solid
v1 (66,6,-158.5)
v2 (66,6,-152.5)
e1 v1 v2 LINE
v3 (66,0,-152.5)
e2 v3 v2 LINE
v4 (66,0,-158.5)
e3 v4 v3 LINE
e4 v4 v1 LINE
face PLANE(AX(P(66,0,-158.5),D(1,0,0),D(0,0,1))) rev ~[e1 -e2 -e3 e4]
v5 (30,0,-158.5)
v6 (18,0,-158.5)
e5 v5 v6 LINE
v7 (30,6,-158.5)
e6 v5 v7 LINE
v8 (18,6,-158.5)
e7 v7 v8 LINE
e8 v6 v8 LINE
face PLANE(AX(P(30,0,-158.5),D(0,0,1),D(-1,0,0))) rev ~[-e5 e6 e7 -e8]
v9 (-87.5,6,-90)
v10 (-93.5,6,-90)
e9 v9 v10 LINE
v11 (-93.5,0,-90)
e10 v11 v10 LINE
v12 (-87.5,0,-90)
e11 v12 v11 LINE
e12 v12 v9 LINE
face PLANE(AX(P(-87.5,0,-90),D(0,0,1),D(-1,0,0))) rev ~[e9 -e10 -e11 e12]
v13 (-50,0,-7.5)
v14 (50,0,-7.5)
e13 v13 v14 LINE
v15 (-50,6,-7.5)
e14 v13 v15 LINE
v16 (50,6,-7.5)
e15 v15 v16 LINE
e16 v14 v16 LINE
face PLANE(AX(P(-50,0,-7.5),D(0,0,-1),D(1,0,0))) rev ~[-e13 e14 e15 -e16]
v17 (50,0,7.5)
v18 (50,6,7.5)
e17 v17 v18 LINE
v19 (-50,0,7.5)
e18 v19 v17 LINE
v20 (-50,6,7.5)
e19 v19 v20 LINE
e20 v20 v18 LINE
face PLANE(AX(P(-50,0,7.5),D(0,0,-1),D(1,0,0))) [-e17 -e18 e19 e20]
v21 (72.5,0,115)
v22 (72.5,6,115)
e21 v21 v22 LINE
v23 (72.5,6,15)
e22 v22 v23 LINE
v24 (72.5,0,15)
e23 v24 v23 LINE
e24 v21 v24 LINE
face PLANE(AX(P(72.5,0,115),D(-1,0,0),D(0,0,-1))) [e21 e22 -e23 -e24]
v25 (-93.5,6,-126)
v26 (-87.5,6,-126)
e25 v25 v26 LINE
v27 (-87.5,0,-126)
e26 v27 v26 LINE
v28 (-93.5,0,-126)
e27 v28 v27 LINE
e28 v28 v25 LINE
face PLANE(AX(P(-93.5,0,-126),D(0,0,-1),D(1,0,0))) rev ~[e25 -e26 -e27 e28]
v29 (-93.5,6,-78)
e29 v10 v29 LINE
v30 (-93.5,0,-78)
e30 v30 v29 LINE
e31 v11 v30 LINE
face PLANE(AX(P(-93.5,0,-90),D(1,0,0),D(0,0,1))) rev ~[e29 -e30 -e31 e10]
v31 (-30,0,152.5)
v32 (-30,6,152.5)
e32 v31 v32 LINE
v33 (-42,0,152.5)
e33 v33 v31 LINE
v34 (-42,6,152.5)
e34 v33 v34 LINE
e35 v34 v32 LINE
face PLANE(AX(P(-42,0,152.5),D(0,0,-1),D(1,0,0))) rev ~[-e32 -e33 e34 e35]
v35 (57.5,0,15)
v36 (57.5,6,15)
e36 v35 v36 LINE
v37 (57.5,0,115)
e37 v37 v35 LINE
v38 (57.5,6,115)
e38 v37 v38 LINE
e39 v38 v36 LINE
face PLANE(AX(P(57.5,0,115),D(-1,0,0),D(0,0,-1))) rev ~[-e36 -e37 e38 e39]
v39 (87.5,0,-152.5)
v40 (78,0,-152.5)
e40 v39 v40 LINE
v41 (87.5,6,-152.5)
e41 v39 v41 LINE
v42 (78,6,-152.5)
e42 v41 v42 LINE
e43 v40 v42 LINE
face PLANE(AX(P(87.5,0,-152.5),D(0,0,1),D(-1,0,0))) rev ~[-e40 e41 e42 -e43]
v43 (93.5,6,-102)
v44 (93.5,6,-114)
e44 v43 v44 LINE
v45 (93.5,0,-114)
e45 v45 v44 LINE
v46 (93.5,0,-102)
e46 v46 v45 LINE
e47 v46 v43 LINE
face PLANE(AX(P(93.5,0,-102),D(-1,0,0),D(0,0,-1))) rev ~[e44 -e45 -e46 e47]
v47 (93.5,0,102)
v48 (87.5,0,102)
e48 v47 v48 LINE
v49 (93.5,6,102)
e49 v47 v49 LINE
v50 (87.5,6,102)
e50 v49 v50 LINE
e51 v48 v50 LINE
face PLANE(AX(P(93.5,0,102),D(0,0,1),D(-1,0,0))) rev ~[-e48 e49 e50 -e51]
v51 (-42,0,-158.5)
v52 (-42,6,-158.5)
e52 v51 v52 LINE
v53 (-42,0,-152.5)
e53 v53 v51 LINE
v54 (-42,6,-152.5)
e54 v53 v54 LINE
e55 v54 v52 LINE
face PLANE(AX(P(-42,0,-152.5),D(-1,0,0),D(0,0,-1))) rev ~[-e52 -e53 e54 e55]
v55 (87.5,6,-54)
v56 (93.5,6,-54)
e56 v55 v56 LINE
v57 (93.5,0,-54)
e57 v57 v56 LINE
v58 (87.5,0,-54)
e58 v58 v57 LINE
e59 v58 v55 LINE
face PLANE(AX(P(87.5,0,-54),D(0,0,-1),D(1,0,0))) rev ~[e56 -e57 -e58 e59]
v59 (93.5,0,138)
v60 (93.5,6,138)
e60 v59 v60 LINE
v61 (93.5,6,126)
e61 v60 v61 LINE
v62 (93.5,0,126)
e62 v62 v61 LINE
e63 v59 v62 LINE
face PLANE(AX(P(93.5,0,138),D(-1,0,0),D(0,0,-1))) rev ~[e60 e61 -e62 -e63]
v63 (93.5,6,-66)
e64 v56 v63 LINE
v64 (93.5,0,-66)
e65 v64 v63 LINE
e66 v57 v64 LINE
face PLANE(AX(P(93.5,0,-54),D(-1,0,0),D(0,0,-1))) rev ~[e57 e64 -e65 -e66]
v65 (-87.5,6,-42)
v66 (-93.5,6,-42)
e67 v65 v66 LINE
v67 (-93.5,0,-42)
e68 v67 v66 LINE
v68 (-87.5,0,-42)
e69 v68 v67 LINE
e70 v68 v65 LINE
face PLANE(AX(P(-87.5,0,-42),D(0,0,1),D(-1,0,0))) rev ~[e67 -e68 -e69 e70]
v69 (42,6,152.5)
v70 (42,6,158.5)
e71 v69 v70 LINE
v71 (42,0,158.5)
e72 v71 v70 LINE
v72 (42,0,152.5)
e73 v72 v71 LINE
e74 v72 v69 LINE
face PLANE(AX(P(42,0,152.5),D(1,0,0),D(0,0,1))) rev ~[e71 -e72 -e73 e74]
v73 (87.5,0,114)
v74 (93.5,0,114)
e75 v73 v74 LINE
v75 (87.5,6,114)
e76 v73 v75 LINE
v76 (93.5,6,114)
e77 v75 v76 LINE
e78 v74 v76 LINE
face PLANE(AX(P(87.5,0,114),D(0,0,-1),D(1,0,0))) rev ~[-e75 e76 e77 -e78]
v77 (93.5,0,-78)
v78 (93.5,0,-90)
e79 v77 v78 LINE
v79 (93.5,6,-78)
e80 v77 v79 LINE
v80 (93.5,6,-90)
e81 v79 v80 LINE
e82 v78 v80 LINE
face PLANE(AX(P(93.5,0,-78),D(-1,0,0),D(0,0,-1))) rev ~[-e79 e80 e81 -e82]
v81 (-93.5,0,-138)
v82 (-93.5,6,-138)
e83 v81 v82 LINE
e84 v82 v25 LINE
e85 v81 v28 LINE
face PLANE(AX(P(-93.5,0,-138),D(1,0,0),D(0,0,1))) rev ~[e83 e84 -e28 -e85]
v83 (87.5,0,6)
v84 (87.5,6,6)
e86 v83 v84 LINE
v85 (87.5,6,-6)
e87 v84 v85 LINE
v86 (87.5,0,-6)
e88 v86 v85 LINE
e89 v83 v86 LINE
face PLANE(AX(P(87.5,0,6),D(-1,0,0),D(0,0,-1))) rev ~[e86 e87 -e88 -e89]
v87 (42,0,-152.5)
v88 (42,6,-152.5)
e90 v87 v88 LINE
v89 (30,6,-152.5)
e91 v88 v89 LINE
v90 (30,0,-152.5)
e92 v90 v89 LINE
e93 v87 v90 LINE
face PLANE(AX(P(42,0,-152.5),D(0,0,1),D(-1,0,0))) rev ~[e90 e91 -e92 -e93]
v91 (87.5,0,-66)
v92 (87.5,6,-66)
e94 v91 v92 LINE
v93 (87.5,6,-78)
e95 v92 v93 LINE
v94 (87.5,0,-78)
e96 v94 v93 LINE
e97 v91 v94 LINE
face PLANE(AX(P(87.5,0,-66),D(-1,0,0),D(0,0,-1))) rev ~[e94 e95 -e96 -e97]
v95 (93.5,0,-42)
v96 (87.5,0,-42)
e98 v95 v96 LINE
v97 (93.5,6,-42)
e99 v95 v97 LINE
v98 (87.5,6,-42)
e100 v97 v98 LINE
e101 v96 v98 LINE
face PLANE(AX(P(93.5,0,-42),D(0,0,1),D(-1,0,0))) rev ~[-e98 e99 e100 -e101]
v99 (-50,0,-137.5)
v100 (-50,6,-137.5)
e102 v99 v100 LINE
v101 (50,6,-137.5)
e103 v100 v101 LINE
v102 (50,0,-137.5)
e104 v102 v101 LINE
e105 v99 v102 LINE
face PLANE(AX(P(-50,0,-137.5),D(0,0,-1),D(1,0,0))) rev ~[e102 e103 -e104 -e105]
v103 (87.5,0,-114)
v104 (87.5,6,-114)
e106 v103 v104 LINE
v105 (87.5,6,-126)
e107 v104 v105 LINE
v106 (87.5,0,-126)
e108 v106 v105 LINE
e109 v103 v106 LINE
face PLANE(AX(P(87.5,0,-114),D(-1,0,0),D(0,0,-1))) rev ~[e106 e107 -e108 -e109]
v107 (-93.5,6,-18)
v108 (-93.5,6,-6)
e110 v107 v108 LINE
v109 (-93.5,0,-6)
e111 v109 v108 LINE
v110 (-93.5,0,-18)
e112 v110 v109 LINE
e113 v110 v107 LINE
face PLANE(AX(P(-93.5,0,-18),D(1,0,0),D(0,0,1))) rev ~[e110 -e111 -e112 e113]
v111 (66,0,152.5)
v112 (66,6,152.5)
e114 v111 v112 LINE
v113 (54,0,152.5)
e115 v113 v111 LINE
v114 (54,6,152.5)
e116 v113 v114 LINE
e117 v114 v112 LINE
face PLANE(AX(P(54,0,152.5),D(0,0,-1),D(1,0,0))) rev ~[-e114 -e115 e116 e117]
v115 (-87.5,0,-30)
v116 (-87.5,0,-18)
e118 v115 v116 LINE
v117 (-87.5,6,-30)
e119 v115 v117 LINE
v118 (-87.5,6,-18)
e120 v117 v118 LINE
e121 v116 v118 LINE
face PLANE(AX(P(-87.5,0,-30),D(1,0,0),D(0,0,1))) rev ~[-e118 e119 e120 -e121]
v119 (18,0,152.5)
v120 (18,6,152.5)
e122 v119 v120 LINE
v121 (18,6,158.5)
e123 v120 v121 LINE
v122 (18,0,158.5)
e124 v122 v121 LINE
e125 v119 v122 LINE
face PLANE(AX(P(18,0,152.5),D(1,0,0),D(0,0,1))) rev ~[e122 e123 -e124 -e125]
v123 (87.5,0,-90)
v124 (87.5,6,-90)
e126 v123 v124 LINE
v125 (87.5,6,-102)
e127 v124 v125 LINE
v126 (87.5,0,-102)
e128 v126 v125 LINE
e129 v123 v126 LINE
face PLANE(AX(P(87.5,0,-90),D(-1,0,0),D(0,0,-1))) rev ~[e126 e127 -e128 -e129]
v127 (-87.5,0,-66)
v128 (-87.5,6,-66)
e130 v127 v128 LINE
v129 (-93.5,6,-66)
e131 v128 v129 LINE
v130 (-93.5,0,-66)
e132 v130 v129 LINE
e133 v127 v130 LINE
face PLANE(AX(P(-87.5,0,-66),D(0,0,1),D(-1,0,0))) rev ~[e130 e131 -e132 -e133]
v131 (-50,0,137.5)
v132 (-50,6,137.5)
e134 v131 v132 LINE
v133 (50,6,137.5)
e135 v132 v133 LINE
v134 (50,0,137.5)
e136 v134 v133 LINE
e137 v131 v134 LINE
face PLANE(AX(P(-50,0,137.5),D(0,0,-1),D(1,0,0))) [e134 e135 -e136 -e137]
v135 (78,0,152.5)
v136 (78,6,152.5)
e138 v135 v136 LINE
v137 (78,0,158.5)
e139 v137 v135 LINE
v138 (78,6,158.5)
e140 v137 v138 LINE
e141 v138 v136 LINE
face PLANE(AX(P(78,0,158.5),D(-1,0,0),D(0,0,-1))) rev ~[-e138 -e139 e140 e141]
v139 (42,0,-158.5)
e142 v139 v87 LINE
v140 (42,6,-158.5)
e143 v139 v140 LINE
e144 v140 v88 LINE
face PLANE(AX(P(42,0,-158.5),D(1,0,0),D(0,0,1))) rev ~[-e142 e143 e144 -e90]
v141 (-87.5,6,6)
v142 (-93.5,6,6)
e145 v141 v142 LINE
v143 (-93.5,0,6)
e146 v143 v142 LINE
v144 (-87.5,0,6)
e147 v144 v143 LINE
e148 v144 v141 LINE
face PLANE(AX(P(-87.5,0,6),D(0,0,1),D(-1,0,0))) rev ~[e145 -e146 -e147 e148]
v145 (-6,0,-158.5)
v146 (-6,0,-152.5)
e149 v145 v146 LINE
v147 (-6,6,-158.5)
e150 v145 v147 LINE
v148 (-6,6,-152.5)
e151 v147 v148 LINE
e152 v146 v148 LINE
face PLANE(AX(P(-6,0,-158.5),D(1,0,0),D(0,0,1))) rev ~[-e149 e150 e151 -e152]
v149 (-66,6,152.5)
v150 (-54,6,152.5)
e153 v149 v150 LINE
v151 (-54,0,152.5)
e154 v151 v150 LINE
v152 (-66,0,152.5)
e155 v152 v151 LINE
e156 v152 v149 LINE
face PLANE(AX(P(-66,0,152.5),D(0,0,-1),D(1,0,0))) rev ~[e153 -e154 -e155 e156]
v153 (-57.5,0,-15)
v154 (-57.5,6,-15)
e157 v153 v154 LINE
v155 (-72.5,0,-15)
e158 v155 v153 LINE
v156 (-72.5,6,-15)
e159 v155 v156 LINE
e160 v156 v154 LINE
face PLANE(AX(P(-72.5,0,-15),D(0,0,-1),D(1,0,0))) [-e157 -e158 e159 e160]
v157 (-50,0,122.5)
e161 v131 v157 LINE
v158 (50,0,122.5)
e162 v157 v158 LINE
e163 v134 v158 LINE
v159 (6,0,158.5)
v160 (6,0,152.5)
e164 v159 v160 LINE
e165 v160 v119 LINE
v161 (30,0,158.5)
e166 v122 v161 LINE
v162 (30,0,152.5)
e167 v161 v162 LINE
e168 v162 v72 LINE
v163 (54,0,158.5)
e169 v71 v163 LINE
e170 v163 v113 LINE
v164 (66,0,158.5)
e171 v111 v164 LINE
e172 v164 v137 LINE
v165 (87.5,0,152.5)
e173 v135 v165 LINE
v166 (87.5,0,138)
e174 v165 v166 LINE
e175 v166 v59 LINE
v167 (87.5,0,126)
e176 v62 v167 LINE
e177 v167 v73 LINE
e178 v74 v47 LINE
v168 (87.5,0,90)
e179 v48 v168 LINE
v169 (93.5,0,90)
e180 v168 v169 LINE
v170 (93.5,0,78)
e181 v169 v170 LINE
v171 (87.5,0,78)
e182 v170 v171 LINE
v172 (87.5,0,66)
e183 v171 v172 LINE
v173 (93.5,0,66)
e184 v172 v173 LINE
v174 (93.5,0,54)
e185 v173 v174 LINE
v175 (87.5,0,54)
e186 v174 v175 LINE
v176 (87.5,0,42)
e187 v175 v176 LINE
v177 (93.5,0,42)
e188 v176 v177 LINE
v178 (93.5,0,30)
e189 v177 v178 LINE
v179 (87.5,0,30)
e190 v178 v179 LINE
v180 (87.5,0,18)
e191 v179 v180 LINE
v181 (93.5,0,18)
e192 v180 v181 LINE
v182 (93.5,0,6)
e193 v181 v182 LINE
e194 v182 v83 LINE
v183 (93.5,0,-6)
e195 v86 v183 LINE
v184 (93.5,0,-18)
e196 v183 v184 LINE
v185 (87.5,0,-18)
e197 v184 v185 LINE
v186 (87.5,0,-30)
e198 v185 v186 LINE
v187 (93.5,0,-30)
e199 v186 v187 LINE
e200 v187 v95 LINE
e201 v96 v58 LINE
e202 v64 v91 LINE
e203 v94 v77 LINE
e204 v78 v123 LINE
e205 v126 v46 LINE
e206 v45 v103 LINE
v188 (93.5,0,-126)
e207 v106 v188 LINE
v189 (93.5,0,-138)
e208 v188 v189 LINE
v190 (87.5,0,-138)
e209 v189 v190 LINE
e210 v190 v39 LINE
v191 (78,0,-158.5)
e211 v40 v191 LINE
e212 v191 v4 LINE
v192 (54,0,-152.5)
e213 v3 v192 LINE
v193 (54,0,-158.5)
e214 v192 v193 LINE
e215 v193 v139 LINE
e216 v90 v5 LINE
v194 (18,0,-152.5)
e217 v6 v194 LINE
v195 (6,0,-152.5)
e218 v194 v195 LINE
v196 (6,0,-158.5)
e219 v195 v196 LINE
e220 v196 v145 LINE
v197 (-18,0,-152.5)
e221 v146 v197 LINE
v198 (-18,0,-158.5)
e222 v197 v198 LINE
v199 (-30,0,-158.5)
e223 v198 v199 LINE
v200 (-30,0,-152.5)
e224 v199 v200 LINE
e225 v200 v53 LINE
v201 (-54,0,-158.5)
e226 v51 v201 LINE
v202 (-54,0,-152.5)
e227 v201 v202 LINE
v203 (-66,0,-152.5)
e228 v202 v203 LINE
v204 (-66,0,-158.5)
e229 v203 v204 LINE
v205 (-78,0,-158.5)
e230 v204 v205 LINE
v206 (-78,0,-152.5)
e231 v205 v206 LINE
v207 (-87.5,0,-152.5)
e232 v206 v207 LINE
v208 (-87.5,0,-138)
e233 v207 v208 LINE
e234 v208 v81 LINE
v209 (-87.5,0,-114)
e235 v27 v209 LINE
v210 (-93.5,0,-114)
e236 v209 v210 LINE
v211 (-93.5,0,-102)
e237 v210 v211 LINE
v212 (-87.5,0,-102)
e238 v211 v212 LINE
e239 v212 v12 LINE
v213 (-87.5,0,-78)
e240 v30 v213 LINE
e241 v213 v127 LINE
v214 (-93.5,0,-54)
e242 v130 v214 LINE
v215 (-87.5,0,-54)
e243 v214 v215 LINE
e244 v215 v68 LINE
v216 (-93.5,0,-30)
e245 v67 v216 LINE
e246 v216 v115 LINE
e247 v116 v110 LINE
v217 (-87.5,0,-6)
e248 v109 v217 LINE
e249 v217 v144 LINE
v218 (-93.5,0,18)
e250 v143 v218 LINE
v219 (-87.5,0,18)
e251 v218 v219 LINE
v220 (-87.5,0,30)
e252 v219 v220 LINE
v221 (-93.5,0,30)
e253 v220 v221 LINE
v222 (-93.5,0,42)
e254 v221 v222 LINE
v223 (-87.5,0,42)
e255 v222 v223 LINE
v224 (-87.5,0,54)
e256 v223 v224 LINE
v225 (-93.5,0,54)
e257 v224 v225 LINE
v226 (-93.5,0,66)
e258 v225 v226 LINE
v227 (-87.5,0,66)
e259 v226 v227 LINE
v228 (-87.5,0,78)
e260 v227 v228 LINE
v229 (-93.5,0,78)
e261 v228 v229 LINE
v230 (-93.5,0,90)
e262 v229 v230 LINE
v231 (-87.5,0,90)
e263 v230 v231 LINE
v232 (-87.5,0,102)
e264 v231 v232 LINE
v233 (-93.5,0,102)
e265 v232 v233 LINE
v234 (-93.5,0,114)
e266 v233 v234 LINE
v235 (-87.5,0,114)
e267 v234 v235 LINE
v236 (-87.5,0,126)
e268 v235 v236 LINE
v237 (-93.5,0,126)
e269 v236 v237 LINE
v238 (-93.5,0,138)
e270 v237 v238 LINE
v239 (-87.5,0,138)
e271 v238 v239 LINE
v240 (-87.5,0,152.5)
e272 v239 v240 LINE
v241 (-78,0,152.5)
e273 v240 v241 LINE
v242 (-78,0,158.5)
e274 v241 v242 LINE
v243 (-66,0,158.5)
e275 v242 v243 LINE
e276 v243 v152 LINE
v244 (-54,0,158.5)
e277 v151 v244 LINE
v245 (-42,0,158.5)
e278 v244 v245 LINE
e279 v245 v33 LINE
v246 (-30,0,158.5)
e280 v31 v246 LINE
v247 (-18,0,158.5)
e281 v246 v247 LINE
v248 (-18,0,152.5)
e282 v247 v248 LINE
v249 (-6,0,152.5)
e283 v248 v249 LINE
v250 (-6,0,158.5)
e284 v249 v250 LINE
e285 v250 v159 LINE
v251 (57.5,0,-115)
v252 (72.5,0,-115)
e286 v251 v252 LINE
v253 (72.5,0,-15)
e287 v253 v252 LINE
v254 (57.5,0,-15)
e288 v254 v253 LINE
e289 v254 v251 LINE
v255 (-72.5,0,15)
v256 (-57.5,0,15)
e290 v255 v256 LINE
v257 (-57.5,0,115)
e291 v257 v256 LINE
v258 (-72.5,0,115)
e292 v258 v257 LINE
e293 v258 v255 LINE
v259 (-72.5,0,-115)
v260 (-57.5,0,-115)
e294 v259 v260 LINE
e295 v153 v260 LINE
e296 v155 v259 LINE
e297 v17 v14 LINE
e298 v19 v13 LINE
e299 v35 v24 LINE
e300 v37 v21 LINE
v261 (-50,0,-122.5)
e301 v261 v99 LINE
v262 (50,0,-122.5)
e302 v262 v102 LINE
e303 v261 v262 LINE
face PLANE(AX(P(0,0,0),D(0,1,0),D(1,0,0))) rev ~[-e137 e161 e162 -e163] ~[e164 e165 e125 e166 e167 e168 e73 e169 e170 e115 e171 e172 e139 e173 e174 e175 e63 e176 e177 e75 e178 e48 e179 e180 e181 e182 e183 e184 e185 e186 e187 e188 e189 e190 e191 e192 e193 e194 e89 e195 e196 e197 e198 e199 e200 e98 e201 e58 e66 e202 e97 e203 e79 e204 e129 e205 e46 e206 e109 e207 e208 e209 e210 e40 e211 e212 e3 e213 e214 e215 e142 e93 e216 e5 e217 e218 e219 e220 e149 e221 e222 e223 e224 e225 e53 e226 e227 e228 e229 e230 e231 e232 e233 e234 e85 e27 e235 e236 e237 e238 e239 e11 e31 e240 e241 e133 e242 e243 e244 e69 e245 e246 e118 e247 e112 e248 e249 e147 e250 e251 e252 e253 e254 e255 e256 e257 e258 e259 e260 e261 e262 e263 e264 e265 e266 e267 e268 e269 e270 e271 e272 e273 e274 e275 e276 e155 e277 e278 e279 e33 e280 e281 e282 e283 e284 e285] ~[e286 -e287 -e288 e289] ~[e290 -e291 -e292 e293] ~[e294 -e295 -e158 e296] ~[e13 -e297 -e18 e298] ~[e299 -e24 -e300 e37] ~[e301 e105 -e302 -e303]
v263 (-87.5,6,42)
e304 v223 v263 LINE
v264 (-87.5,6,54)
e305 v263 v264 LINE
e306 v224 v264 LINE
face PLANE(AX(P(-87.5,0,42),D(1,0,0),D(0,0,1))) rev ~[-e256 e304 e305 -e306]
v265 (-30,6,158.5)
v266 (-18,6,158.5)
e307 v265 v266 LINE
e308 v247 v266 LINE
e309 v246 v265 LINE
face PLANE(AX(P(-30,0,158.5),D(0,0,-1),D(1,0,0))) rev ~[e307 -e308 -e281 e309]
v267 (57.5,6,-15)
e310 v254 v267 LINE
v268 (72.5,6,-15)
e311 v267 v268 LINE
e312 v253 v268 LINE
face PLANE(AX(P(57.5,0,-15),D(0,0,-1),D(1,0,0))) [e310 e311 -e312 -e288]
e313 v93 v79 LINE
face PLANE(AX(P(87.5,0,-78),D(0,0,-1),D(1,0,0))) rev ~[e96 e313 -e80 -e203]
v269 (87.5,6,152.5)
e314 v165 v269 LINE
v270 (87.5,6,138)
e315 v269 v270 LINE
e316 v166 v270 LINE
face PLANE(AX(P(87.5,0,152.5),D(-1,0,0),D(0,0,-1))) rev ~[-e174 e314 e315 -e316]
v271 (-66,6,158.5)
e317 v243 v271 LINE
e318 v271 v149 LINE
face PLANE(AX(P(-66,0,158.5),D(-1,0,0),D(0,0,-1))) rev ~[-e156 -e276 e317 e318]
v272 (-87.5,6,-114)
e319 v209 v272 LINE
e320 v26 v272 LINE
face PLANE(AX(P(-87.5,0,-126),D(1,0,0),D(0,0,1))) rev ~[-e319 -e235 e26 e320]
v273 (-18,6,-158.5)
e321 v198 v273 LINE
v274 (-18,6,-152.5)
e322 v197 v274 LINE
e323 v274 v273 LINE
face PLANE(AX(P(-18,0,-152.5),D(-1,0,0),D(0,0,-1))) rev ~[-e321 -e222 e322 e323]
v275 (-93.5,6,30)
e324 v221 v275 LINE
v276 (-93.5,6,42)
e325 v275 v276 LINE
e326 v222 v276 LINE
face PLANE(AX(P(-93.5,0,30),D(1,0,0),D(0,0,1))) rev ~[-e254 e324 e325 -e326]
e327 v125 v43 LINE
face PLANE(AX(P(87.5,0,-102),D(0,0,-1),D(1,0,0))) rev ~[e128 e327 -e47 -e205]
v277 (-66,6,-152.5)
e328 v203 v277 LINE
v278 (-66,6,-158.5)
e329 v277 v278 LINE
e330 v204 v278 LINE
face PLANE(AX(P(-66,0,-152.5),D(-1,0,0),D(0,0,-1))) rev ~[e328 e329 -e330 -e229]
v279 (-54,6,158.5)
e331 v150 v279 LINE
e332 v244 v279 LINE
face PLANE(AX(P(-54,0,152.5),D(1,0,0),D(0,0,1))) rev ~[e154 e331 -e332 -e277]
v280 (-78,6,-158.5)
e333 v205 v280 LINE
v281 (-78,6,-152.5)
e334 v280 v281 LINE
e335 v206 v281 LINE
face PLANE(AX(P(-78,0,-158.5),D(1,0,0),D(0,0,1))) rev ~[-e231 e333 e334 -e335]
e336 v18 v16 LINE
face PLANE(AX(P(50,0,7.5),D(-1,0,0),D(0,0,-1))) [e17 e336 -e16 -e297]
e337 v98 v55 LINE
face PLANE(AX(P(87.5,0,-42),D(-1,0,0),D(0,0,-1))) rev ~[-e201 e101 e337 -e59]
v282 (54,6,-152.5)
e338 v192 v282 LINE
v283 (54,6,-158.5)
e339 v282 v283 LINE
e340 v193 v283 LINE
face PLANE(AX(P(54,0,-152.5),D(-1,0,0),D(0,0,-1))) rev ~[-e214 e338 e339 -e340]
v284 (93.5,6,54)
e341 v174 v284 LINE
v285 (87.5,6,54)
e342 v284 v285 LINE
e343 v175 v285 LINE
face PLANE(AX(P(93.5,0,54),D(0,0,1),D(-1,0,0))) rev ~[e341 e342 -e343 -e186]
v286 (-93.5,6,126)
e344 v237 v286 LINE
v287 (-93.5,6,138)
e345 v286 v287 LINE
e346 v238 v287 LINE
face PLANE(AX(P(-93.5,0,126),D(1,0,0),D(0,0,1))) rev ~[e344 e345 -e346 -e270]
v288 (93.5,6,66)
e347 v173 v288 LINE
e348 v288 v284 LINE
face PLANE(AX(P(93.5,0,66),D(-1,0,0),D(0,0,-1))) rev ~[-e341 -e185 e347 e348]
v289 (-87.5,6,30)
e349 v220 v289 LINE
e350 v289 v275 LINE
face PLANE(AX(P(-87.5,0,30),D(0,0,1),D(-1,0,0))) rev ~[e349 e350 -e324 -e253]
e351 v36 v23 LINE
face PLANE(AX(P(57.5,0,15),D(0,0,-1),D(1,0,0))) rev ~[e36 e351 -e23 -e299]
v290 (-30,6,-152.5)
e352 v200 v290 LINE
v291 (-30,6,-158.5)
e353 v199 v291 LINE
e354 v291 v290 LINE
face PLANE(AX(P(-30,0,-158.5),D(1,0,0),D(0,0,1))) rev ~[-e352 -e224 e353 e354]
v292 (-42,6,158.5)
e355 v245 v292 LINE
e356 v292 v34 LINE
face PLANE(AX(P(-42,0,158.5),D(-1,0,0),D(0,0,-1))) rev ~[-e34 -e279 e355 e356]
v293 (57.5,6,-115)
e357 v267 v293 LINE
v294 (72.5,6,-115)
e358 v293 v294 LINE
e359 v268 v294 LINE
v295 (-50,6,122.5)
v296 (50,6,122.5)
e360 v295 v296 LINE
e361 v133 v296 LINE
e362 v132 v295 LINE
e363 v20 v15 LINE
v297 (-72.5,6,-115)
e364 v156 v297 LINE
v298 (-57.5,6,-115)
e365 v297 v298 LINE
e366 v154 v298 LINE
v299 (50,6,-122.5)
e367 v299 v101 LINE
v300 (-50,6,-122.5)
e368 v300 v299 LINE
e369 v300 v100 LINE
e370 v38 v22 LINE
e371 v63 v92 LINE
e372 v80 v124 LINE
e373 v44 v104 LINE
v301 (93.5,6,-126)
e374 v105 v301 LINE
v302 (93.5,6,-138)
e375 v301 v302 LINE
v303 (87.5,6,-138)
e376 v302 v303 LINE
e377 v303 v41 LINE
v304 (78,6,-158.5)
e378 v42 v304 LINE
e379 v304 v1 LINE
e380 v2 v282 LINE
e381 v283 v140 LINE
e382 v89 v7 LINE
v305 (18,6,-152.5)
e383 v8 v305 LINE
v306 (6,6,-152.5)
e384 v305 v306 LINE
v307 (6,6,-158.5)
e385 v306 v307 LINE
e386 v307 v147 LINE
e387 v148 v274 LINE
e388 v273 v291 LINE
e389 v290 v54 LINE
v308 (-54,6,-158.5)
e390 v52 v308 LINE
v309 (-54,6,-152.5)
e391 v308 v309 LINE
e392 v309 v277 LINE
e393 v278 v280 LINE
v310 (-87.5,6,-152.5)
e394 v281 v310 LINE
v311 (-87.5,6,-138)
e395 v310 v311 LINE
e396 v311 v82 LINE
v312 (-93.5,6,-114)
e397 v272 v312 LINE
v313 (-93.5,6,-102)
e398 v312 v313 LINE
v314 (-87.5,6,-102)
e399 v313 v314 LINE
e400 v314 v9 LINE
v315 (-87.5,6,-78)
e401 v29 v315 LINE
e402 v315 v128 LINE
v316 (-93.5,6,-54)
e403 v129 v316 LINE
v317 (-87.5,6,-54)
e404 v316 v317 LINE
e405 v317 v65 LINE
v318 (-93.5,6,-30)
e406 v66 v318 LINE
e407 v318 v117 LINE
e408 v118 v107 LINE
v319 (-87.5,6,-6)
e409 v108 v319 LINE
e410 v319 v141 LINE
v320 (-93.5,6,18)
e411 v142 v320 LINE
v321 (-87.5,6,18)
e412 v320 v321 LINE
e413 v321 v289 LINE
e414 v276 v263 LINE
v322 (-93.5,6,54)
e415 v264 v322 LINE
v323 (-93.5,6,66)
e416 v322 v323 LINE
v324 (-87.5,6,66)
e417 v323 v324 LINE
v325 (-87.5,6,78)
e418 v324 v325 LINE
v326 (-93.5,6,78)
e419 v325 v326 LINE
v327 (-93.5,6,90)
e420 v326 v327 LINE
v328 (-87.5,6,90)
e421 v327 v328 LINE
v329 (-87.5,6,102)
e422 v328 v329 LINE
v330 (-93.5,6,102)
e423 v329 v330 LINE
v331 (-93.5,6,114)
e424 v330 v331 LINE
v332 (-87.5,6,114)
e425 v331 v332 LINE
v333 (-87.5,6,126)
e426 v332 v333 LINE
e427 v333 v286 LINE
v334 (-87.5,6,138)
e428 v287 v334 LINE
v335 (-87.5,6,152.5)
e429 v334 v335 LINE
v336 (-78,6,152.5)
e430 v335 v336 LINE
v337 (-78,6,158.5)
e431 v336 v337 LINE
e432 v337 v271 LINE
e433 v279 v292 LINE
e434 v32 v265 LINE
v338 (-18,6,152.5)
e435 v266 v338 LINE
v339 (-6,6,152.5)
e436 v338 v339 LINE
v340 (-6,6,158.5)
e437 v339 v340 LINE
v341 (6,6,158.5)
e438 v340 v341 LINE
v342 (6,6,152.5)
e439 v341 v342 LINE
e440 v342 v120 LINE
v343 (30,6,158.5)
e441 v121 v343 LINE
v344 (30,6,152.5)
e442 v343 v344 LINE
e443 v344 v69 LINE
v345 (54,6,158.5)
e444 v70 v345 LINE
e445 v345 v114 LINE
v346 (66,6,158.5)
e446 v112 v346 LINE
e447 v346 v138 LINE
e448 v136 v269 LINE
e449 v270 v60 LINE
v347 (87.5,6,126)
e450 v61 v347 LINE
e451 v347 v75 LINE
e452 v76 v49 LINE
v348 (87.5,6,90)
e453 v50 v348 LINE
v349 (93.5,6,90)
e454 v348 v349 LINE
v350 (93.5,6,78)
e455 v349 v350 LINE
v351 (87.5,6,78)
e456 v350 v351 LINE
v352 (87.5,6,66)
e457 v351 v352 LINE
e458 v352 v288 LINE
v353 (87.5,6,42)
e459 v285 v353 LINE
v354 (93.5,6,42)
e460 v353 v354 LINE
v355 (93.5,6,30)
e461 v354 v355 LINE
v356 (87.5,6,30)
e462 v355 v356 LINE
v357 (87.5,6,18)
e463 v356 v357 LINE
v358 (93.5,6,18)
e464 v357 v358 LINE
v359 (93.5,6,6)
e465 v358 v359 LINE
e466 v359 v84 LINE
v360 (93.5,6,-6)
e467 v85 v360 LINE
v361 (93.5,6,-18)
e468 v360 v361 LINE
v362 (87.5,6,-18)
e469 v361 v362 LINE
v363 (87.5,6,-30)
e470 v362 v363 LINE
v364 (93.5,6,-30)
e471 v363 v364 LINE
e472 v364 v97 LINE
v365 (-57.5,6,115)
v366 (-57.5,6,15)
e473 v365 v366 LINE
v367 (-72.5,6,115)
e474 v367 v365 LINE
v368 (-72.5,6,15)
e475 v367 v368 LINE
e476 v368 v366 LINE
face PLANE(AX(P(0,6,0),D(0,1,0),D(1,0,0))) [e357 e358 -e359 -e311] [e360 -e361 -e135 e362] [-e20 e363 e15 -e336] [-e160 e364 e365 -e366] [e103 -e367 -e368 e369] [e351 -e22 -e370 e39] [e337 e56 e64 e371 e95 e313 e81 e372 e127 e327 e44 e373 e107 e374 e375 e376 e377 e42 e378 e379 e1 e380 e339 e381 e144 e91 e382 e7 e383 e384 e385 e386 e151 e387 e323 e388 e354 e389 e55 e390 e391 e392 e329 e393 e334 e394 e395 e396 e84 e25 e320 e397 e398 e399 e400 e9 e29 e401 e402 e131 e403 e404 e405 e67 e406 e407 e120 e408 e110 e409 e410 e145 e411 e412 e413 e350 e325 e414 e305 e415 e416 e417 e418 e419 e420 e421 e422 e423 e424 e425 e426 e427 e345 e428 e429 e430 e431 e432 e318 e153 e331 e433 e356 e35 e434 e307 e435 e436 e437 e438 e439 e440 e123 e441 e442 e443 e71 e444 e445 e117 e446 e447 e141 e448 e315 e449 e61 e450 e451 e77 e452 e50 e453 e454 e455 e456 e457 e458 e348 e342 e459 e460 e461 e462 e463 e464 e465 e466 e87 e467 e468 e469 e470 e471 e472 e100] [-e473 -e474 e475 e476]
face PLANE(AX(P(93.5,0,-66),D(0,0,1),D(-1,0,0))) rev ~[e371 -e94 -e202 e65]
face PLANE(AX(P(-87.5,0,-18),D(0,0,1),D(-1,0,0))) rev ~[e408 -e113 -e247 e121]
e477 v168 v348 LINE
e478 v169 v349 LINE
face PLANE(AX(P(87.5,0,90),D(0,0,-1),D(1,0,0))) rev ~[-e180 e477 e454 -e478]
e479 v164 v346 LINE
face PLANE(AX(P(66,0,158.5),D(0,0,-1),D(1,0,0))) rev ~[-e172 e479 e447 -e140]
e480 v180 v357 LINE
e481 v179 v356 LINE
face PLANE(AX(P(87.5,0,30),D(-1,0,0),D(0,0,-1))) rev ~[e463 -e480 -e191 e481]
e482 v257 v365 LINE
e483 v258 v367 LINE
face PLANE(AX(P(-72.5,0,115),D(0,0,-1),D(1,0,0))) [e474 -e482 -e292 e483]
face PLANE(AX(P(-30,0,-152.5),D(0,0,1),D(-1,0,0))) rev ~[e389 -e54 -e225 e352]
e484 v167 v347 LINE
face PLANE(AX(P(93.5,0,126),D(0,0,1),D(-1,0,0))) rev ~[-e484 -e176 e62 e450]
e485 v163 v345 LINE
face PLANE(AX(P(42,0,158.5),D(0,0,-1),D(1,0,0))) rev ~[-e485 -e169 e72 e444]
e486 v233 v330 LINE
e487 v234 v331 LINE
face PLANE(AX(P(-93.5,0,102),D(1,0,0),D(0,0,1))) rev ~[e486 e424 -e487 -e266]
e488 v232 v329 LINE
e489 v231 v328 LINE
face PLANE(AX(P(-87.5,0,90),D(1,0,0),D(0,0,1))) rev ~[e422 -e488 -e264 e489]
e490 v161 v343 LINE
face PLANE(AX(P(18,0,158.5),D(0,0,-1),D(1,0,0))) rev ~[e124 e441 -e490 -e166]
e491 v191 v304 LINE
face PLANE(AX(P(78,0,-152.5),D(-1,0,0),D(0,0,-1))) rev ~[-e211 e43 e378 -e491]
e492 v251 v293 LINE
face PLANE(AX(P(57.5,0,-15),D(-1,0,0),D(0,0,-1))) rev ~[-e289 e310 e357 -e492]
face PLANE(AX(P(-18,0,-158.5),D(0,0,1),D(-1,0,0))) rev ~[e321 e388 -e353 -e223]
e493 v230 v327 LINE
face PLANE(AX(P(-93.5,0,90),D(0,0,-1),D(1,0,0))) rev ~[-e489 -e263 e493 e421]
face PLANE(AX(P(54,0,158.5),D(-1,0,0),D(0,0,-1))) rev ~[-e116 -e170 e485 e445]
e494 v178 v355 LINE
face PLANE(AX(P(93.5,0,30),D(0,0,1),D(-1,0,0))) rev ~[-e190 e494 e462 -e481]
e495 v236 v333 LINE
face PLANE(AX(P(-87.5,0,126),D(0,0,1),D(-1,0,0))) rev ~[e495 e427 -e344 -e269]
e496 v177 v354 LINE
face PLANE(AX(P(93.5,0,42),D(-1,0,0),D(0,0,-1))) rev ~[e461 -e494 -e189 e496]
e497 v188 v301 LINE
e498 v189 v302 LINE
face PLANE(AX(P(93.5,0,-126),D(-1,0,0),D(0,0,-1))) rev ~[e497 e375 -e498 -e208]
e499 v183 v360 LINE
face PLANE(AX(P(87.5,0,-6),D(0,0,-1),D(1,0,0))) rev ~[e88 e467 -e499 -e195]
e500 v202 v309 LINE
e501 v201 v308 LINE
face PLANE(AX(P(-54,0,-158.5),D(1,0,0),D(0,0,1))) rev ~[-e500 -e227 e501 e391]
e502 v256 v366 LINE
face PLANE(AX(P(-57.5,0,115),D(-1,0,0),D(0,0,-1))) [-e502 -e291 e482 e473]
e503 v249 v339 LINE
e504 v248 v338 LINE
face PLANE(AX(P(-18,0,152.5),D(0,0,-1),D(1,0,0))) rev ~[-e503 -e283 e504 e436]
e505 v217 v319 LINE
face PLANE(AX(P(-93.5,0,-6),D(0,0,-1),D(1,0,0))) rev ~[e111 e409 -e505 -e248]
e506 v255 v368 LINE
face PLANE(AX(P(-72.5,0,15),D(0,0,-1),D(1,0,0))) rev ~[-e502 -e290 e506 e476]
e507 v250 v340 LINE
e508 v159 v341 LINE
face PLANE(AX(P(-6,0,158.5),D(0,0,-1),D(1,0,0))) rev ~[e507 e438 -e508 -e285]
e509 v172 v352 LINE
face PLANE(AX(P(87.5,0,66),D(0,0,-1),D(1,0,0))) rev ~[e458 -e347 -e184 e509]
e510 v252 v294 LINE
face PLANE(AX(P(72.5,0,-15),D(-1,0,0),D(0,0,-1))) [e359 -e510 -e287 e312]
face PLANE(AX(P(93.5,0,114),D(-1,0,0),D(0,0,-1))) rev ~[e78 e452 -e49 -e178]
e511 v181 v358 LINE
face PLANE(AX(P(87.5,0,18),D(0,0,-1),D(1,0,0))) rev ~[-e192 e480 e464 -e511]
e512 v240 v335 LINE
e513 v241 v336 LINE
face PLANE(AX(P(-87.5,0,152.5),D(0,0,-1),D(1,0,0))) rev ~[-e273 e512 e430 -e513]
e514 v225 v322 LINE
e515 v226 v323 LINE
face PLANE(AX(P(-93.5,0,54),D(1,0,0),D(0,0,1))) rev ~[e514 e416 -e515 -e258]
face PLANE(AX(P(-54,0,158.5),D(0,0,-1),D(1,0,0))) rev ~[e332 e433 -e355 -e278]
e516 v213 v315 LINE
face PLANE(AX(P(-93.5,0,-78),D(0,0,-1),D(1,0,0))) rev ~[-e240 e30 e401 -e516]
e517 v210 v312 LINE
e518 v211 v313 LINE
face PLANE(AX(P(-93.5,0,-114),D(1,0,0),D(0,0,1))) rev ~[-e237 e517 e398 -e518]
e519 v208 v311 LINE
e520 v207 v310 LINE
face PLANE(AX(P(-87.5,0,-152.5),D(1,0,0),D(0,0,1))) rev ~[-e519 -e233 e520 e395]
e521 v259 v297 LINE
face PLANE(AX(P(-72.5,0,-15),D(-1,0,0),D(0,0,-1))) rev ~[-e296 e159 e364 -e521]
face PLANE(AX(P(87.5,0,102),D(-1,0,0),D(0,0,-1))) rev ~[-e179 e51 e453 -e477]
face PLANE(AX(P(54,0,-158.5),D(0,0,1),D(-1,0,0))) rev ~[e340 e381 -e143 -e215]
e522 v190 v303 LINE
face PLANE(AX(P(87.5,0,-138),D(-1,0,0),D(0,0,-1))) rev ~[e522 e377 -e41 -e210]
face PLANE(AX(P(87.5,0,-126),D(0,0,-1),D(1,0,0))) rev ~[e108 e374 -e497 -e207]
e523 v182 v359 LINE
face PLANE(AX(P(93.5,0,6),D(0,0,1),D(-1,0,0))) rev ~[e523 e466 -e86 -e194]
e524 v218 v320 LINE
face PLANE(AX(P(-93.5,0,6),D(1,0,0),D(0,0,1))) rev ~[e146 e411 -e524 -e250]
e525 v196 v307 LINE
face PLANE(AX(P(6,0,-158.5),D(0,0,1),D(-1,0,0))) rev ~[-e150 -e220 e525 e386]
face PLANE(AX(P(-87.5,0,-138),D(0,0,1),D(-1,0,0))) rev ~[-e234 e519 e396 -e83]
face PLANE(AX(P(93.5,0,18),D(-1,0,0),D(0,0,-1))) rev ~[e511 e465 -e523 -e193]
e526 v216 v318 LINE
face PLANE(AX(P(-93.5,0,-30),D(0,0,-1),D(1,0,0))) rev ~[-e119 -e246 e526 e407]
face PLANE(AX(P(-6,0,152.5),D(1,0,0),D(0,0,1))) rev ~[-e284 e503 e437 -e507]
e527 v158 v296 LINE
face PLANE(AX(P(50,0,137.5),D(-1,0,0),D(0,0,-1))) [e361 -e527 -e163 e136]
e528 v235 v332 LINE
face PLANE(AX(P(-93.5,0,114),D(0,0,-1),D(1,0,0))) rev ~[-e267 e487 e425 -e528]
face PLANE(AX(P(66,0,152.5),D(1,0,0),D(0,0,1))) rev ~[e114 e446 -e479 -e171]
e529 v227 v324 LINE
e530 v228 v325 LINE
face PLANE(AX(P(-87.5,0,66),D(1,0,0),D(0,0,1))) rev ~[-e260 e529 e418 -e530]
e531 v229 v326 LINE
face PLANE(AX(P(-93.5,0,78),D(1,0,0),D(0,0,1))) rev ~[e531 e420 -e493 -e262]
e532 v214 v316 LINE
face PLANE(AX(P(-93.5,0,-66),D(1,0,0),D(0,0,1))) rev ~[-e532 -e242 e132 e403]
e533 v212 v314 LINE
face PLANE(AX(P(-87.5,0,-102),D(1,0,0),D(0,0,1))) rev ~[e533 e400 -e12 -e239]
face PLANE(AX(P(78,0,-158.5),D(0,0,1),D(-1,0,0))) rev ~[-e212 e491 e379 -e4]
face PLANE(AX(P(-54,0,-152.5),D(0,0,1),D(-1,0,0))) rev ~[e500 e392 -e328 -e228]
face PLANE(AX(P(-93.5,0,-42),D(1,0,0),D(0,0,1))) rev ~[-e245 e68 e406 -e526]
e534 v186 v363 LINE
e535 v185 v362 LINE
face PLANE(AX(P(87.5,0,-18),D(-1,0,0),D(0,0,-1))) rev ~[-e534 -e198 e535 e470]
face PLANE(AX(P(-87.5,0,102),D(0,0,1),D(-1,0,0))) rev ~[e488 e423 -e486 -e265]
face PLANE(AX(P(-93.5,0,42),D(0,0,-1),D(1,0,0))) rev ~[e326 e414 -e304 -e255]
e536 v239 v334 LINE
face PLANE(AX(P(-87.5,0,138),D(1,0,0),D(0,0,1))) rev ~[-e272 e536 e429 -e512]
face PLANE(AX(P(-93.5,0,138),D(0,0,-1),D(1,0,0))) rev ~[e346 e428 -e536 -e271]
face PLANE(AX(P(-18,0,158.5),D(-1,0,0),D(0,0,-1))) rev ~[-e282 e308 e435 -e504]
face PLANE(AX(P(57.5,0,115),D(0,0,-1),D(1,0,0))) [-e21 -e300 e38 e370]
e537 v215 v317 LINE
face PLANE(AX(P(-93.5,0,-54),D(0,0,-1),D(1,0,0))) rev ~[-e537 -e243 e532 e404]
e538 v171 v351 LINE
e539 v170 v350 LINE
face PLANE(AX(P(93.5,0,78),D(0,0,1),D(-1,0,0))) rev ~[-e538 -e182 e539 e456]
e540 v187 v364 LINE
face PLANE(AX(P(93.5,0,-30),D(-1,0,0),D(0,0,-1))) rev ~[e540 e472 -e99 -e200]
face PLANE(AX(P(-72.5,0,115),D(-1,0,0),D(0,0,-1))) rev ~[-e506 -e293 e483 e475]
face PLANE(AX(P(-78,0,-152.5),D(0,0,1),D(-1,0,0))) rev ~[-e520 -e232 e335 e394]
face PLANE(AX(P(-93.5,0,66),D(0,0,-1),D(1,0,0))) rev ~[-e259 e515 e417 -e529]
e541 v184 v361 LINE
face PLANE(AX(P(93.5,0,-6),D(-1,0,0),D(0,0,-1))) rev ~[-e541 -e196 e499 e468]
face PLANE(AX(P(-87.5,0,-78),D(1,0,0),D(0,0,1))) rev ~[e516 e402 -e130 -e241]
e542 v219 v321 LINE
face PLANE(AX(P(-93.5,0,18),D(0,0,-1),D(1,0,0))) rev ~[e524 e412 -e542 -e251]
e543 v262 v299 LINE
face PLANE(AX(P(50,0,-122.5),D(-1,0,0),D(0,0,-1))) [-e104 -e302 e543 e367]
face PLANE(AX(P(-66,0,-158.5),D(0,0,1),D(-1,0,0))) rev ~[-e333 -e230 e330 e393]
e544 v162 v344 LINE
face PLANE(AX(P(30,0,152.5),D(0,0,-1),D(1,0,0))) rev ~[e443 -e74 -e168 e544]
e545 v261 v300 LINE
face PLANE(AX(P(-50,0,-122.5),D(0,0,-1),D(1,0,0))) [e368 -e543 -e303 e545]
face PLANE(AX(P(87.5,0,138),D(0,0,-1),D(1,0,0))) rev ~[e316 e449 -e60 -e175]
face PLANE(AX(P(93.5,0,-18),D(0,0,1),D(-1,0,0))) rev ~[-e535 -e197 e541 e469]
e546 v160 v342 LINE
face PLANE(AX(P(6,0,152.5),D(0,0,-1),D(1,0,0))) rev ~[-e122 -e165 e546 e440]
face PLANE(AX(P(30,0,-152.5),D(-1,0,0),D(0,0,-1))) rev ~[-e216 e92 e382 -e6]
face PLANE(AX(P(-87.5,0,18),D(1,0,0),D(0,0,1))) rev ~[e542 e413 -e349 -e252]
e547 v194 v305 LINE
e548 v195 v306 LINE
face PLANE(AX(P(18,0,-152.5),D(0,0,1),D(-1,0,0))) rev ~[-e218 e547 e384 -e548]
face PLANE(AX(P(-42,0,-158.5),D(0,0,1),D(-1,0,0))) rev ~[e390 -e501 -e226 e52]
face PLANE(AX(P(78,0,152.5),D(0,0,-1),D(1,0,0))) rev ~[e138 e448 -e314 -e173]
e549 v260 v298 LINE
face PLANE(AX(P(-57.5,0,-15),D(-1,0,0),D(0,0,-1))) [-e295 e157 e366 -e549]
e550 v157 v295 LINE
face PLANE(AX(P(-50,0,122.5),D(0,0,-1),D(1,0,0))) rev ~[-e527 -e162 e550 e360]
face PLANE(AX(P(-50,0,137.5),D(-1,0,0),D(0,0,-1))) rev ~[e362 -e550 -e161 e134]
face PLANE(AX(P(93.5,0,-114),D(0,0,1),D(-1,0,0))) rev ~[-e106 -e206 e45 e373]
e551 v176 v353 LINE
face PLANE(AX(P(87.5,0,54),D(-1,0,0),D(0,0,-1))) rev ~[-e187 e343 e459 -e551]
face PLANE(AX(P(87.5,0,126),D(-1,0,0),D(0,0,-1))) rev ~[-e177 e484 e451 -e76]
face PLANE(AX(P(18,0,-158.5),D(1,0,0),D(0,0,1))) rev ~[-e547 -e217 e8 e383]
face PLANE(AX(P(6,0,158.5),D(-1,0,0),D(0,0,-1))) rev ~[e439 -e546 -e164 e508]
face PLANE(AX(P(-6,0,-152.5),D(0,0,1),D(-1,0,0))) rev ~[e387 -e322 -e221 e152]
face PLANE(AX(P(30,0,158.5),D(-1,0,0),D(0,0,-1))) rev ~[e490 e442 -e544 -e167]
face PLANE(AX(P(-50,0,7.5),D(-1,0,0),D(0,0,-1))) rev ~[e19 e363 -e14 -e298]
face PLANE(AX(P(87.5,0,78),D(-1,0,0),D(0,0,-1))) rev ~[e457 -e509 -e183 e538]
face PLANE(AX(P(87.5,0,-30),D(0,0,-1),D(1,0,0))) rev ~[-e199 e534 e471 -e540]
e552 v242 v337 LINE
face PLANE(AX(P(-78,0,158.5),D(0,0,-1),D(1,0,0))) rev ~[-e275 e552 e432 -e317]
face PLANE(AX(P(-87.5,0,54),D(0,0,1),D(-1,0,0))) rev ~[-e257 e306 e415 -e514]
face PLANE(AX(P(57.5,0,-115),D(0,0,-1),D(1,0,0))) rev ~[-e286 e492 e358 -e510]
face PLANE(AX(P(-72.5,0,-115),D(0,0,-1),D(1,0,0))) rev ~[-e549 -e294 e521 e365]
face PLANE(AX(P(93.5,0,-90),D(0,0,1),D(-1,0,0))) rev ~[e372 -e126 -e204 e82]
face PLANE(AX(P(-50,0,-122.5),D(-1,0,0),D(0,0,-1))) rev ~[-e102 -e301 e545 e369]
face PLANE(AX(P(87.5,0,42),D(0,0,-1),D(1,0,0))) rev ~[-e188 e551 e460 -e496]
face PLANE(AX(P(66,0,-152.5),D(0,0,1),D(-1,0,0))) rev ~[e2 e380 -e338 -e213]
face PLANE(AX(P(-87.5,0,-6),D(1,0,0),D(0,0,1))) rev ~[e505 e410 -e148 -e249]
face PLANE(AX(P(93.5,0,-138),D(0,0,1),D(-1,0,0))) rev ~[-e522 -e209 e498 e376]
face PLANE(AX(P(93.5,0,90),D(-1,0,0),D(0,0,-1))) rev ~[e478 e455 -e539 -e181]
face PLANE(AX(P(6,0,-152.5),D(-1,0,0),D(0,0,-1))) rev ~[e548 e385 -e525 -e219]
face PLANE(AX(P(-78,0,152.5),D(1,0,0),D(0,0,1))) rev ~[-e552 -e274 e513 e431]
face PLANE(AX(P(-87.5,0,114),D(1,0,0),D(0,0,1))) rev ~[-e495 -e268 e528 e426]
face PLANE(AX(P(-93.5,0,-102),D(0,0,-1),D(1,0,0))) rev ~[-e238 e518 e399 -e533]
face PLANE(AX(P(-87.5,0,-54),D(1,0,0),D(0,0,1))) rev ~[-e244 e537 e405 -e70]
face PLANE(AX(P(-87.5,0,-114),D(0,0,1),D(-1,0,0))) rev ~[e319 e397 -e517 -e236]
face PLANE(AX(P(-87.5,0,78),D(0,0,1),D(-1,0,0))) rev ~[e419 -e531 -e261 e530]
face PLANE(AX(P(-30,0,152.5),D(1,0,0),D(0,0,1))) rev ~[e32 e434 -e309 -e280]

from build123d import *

# Parameters (mm, degrees)
SKETCH3_W           = 15
SKETCH3_H           = 100
SKETCH3_W_2         = 100
SKETCH3_H_2         = 15
BOSS_EXTRUDE4_DEPTH = 6


with BuildPart() as part:
    # Sketch3 → Boss-Extrude4 (new body)
    with BuildSketch(Plane(origin=(0, 0, 0), x_dir=(1, 0, 0), z_dir=(0, 1, 0))):
        Polygon((-87.5, -152.5), (-78, -152.5), (-78, -158.5), (-66, -158.5), (-66, -152.5), (-54, -152.5), (-54, -158.5), (-42, -158.5), (-42, -152.5), (-30, -152.5), (-30, -158.5), (-18, -158.5), (-18, -152.5), (-6, -152.5), (-6, -158.5), (6, -158.5), (6, -152.5), (18, -152.5), (18, -158.5), (30, -158.5), (30, -152.5), (42, -152.5), (42, -158.5), (54, -158.5), (54, -152.5), (66, -152.5), (66, -158.5), (78, -158.5), (78, -152.5), (87.5, -152.5), (87.5, -138), (93.5, -138), (93.5, -126), (87.5, -126), (87.5, -114), (93.5, -114), (93.5, -102), (87.5, -102), (87.5, -90), (93.5, -90), (93.5, -78), (87.5, -78), (87.5, -66), (93.5, -66), (93.5, -54), (87.5, -54), (87.5, -42), (93.5, -42), (93.5, -30), (87.5, -30), (87.5, -18), (93.5, -18), (93.5, -6), (87.5, -6), (87.5, 6), (93.5, 6), (93.5, 18), (87.5, 18), (87.5, 30), (93.5, 30), (93.5, 42), (87.5, 42), (87.5, 54), (93.5, 54), (93.5, 66), (87.5, 66), (87.5, 78), (93.5, 78), (93.5, 90), (87.5, 90), (87.5, 102), (93.5, 102), (93.5, 114), (87.5, 114), (87.5, 126), (93.5, 126), (93.5, 138), (87.5, 138), (87.5, 152.5), (78, 152.5), (78, 158.5), (66, 158.5), (66, 152.5), (54, 152.5), (54, 158.5), (42, 158.5), (42, 152.5), (30, 152.5), (30, 158.5), (18, 158.5), (18, 152.5), (6, 152.5), (6, 158.5), (-6, 158.5), (-6, 152.5), (-18, 152.5), (-18, 158.5), (-30, 158.5), (-30, 152.5), (-42, 152.5), (-42, 158.5), (-54, 158.5), (-54, 152.5), (-66, 152.5), (-66, 158.5), (-78, 158.5), (-78, 152.5), (-87.5, 152.5), (-87.5, 138), (-93.5, 138), (-93.5, 126), (-87.5, 126), (-87.5, 114), (-93.5, 114), (-93.5, 102), (-87.5, 102), (-87.5, 90), (-93.5, 90), (-93.5, 78), (-87.5, 78), (-87.5, 66), (-93.5, 66), (-93.5, 54), (-87.5, 54), (-87.5, 42), (-93.5, 42), (-93.5, 30), (-87.5, 30), (-87.5, 18), (-93.5, 18), (-93.5, 6), (-87.5, 6), (-87.5, -6), (-93.5, -6), (-93.5, -18), (-87.5, -18), (-87.5, -30), (-93.5, -30), (-93.5, -42), (-87.5, -42), (-87.5, -54), (-93.5, -54), (-93.5, -66), (-87.5, -66), (-87.5, -78), (-93.5, -78), (-93.5, -90), (-87.5, -90), (-87.5, -102), (-93.5, -102), (-93.5, -114), (-87.5, -114), (-87.5, -126), (-93.5, -126), (-93.5, -138), (-87.5, -138), align=None)
        with Locations((-65, -65)):
            Rectangle(SKETCH3_W, SKETCH3_H, mode=Mode.SUBTRACT)
        with Locations((0, -130)):
            Rectangle(SKETCH3_W_2, SKETCH3_H_2, mode=Mode.SUBTRACT)
        Rectangle(SKETCH3_W_2, SKETCH3_H_2, mode=Mode.SUBTRACT)
        with Locations((65, -65)):
            Rectangle(SKETCH3_W, SKETCH3_H, mode=Mode.SUBTRACT)
        with Locations((-65, 65)):
            Rectangle(SKETCH3_W, SKETCH3_H, mode=Mode.SUBTRACT)
        with Locations((65, 65)):
            Rectangle(SKETCH3_W, SKETCH3_H, mode=Mode.SUBTRACT)
        with Locations((0, 130)):
            Rectangle(SKETCH3_W_2, SKETCH3_H_2, mode=Mode.SUBTRACT)
    extrude(amount=BOSS_EXTRUDE4_DEPTH)


solid = part.part
